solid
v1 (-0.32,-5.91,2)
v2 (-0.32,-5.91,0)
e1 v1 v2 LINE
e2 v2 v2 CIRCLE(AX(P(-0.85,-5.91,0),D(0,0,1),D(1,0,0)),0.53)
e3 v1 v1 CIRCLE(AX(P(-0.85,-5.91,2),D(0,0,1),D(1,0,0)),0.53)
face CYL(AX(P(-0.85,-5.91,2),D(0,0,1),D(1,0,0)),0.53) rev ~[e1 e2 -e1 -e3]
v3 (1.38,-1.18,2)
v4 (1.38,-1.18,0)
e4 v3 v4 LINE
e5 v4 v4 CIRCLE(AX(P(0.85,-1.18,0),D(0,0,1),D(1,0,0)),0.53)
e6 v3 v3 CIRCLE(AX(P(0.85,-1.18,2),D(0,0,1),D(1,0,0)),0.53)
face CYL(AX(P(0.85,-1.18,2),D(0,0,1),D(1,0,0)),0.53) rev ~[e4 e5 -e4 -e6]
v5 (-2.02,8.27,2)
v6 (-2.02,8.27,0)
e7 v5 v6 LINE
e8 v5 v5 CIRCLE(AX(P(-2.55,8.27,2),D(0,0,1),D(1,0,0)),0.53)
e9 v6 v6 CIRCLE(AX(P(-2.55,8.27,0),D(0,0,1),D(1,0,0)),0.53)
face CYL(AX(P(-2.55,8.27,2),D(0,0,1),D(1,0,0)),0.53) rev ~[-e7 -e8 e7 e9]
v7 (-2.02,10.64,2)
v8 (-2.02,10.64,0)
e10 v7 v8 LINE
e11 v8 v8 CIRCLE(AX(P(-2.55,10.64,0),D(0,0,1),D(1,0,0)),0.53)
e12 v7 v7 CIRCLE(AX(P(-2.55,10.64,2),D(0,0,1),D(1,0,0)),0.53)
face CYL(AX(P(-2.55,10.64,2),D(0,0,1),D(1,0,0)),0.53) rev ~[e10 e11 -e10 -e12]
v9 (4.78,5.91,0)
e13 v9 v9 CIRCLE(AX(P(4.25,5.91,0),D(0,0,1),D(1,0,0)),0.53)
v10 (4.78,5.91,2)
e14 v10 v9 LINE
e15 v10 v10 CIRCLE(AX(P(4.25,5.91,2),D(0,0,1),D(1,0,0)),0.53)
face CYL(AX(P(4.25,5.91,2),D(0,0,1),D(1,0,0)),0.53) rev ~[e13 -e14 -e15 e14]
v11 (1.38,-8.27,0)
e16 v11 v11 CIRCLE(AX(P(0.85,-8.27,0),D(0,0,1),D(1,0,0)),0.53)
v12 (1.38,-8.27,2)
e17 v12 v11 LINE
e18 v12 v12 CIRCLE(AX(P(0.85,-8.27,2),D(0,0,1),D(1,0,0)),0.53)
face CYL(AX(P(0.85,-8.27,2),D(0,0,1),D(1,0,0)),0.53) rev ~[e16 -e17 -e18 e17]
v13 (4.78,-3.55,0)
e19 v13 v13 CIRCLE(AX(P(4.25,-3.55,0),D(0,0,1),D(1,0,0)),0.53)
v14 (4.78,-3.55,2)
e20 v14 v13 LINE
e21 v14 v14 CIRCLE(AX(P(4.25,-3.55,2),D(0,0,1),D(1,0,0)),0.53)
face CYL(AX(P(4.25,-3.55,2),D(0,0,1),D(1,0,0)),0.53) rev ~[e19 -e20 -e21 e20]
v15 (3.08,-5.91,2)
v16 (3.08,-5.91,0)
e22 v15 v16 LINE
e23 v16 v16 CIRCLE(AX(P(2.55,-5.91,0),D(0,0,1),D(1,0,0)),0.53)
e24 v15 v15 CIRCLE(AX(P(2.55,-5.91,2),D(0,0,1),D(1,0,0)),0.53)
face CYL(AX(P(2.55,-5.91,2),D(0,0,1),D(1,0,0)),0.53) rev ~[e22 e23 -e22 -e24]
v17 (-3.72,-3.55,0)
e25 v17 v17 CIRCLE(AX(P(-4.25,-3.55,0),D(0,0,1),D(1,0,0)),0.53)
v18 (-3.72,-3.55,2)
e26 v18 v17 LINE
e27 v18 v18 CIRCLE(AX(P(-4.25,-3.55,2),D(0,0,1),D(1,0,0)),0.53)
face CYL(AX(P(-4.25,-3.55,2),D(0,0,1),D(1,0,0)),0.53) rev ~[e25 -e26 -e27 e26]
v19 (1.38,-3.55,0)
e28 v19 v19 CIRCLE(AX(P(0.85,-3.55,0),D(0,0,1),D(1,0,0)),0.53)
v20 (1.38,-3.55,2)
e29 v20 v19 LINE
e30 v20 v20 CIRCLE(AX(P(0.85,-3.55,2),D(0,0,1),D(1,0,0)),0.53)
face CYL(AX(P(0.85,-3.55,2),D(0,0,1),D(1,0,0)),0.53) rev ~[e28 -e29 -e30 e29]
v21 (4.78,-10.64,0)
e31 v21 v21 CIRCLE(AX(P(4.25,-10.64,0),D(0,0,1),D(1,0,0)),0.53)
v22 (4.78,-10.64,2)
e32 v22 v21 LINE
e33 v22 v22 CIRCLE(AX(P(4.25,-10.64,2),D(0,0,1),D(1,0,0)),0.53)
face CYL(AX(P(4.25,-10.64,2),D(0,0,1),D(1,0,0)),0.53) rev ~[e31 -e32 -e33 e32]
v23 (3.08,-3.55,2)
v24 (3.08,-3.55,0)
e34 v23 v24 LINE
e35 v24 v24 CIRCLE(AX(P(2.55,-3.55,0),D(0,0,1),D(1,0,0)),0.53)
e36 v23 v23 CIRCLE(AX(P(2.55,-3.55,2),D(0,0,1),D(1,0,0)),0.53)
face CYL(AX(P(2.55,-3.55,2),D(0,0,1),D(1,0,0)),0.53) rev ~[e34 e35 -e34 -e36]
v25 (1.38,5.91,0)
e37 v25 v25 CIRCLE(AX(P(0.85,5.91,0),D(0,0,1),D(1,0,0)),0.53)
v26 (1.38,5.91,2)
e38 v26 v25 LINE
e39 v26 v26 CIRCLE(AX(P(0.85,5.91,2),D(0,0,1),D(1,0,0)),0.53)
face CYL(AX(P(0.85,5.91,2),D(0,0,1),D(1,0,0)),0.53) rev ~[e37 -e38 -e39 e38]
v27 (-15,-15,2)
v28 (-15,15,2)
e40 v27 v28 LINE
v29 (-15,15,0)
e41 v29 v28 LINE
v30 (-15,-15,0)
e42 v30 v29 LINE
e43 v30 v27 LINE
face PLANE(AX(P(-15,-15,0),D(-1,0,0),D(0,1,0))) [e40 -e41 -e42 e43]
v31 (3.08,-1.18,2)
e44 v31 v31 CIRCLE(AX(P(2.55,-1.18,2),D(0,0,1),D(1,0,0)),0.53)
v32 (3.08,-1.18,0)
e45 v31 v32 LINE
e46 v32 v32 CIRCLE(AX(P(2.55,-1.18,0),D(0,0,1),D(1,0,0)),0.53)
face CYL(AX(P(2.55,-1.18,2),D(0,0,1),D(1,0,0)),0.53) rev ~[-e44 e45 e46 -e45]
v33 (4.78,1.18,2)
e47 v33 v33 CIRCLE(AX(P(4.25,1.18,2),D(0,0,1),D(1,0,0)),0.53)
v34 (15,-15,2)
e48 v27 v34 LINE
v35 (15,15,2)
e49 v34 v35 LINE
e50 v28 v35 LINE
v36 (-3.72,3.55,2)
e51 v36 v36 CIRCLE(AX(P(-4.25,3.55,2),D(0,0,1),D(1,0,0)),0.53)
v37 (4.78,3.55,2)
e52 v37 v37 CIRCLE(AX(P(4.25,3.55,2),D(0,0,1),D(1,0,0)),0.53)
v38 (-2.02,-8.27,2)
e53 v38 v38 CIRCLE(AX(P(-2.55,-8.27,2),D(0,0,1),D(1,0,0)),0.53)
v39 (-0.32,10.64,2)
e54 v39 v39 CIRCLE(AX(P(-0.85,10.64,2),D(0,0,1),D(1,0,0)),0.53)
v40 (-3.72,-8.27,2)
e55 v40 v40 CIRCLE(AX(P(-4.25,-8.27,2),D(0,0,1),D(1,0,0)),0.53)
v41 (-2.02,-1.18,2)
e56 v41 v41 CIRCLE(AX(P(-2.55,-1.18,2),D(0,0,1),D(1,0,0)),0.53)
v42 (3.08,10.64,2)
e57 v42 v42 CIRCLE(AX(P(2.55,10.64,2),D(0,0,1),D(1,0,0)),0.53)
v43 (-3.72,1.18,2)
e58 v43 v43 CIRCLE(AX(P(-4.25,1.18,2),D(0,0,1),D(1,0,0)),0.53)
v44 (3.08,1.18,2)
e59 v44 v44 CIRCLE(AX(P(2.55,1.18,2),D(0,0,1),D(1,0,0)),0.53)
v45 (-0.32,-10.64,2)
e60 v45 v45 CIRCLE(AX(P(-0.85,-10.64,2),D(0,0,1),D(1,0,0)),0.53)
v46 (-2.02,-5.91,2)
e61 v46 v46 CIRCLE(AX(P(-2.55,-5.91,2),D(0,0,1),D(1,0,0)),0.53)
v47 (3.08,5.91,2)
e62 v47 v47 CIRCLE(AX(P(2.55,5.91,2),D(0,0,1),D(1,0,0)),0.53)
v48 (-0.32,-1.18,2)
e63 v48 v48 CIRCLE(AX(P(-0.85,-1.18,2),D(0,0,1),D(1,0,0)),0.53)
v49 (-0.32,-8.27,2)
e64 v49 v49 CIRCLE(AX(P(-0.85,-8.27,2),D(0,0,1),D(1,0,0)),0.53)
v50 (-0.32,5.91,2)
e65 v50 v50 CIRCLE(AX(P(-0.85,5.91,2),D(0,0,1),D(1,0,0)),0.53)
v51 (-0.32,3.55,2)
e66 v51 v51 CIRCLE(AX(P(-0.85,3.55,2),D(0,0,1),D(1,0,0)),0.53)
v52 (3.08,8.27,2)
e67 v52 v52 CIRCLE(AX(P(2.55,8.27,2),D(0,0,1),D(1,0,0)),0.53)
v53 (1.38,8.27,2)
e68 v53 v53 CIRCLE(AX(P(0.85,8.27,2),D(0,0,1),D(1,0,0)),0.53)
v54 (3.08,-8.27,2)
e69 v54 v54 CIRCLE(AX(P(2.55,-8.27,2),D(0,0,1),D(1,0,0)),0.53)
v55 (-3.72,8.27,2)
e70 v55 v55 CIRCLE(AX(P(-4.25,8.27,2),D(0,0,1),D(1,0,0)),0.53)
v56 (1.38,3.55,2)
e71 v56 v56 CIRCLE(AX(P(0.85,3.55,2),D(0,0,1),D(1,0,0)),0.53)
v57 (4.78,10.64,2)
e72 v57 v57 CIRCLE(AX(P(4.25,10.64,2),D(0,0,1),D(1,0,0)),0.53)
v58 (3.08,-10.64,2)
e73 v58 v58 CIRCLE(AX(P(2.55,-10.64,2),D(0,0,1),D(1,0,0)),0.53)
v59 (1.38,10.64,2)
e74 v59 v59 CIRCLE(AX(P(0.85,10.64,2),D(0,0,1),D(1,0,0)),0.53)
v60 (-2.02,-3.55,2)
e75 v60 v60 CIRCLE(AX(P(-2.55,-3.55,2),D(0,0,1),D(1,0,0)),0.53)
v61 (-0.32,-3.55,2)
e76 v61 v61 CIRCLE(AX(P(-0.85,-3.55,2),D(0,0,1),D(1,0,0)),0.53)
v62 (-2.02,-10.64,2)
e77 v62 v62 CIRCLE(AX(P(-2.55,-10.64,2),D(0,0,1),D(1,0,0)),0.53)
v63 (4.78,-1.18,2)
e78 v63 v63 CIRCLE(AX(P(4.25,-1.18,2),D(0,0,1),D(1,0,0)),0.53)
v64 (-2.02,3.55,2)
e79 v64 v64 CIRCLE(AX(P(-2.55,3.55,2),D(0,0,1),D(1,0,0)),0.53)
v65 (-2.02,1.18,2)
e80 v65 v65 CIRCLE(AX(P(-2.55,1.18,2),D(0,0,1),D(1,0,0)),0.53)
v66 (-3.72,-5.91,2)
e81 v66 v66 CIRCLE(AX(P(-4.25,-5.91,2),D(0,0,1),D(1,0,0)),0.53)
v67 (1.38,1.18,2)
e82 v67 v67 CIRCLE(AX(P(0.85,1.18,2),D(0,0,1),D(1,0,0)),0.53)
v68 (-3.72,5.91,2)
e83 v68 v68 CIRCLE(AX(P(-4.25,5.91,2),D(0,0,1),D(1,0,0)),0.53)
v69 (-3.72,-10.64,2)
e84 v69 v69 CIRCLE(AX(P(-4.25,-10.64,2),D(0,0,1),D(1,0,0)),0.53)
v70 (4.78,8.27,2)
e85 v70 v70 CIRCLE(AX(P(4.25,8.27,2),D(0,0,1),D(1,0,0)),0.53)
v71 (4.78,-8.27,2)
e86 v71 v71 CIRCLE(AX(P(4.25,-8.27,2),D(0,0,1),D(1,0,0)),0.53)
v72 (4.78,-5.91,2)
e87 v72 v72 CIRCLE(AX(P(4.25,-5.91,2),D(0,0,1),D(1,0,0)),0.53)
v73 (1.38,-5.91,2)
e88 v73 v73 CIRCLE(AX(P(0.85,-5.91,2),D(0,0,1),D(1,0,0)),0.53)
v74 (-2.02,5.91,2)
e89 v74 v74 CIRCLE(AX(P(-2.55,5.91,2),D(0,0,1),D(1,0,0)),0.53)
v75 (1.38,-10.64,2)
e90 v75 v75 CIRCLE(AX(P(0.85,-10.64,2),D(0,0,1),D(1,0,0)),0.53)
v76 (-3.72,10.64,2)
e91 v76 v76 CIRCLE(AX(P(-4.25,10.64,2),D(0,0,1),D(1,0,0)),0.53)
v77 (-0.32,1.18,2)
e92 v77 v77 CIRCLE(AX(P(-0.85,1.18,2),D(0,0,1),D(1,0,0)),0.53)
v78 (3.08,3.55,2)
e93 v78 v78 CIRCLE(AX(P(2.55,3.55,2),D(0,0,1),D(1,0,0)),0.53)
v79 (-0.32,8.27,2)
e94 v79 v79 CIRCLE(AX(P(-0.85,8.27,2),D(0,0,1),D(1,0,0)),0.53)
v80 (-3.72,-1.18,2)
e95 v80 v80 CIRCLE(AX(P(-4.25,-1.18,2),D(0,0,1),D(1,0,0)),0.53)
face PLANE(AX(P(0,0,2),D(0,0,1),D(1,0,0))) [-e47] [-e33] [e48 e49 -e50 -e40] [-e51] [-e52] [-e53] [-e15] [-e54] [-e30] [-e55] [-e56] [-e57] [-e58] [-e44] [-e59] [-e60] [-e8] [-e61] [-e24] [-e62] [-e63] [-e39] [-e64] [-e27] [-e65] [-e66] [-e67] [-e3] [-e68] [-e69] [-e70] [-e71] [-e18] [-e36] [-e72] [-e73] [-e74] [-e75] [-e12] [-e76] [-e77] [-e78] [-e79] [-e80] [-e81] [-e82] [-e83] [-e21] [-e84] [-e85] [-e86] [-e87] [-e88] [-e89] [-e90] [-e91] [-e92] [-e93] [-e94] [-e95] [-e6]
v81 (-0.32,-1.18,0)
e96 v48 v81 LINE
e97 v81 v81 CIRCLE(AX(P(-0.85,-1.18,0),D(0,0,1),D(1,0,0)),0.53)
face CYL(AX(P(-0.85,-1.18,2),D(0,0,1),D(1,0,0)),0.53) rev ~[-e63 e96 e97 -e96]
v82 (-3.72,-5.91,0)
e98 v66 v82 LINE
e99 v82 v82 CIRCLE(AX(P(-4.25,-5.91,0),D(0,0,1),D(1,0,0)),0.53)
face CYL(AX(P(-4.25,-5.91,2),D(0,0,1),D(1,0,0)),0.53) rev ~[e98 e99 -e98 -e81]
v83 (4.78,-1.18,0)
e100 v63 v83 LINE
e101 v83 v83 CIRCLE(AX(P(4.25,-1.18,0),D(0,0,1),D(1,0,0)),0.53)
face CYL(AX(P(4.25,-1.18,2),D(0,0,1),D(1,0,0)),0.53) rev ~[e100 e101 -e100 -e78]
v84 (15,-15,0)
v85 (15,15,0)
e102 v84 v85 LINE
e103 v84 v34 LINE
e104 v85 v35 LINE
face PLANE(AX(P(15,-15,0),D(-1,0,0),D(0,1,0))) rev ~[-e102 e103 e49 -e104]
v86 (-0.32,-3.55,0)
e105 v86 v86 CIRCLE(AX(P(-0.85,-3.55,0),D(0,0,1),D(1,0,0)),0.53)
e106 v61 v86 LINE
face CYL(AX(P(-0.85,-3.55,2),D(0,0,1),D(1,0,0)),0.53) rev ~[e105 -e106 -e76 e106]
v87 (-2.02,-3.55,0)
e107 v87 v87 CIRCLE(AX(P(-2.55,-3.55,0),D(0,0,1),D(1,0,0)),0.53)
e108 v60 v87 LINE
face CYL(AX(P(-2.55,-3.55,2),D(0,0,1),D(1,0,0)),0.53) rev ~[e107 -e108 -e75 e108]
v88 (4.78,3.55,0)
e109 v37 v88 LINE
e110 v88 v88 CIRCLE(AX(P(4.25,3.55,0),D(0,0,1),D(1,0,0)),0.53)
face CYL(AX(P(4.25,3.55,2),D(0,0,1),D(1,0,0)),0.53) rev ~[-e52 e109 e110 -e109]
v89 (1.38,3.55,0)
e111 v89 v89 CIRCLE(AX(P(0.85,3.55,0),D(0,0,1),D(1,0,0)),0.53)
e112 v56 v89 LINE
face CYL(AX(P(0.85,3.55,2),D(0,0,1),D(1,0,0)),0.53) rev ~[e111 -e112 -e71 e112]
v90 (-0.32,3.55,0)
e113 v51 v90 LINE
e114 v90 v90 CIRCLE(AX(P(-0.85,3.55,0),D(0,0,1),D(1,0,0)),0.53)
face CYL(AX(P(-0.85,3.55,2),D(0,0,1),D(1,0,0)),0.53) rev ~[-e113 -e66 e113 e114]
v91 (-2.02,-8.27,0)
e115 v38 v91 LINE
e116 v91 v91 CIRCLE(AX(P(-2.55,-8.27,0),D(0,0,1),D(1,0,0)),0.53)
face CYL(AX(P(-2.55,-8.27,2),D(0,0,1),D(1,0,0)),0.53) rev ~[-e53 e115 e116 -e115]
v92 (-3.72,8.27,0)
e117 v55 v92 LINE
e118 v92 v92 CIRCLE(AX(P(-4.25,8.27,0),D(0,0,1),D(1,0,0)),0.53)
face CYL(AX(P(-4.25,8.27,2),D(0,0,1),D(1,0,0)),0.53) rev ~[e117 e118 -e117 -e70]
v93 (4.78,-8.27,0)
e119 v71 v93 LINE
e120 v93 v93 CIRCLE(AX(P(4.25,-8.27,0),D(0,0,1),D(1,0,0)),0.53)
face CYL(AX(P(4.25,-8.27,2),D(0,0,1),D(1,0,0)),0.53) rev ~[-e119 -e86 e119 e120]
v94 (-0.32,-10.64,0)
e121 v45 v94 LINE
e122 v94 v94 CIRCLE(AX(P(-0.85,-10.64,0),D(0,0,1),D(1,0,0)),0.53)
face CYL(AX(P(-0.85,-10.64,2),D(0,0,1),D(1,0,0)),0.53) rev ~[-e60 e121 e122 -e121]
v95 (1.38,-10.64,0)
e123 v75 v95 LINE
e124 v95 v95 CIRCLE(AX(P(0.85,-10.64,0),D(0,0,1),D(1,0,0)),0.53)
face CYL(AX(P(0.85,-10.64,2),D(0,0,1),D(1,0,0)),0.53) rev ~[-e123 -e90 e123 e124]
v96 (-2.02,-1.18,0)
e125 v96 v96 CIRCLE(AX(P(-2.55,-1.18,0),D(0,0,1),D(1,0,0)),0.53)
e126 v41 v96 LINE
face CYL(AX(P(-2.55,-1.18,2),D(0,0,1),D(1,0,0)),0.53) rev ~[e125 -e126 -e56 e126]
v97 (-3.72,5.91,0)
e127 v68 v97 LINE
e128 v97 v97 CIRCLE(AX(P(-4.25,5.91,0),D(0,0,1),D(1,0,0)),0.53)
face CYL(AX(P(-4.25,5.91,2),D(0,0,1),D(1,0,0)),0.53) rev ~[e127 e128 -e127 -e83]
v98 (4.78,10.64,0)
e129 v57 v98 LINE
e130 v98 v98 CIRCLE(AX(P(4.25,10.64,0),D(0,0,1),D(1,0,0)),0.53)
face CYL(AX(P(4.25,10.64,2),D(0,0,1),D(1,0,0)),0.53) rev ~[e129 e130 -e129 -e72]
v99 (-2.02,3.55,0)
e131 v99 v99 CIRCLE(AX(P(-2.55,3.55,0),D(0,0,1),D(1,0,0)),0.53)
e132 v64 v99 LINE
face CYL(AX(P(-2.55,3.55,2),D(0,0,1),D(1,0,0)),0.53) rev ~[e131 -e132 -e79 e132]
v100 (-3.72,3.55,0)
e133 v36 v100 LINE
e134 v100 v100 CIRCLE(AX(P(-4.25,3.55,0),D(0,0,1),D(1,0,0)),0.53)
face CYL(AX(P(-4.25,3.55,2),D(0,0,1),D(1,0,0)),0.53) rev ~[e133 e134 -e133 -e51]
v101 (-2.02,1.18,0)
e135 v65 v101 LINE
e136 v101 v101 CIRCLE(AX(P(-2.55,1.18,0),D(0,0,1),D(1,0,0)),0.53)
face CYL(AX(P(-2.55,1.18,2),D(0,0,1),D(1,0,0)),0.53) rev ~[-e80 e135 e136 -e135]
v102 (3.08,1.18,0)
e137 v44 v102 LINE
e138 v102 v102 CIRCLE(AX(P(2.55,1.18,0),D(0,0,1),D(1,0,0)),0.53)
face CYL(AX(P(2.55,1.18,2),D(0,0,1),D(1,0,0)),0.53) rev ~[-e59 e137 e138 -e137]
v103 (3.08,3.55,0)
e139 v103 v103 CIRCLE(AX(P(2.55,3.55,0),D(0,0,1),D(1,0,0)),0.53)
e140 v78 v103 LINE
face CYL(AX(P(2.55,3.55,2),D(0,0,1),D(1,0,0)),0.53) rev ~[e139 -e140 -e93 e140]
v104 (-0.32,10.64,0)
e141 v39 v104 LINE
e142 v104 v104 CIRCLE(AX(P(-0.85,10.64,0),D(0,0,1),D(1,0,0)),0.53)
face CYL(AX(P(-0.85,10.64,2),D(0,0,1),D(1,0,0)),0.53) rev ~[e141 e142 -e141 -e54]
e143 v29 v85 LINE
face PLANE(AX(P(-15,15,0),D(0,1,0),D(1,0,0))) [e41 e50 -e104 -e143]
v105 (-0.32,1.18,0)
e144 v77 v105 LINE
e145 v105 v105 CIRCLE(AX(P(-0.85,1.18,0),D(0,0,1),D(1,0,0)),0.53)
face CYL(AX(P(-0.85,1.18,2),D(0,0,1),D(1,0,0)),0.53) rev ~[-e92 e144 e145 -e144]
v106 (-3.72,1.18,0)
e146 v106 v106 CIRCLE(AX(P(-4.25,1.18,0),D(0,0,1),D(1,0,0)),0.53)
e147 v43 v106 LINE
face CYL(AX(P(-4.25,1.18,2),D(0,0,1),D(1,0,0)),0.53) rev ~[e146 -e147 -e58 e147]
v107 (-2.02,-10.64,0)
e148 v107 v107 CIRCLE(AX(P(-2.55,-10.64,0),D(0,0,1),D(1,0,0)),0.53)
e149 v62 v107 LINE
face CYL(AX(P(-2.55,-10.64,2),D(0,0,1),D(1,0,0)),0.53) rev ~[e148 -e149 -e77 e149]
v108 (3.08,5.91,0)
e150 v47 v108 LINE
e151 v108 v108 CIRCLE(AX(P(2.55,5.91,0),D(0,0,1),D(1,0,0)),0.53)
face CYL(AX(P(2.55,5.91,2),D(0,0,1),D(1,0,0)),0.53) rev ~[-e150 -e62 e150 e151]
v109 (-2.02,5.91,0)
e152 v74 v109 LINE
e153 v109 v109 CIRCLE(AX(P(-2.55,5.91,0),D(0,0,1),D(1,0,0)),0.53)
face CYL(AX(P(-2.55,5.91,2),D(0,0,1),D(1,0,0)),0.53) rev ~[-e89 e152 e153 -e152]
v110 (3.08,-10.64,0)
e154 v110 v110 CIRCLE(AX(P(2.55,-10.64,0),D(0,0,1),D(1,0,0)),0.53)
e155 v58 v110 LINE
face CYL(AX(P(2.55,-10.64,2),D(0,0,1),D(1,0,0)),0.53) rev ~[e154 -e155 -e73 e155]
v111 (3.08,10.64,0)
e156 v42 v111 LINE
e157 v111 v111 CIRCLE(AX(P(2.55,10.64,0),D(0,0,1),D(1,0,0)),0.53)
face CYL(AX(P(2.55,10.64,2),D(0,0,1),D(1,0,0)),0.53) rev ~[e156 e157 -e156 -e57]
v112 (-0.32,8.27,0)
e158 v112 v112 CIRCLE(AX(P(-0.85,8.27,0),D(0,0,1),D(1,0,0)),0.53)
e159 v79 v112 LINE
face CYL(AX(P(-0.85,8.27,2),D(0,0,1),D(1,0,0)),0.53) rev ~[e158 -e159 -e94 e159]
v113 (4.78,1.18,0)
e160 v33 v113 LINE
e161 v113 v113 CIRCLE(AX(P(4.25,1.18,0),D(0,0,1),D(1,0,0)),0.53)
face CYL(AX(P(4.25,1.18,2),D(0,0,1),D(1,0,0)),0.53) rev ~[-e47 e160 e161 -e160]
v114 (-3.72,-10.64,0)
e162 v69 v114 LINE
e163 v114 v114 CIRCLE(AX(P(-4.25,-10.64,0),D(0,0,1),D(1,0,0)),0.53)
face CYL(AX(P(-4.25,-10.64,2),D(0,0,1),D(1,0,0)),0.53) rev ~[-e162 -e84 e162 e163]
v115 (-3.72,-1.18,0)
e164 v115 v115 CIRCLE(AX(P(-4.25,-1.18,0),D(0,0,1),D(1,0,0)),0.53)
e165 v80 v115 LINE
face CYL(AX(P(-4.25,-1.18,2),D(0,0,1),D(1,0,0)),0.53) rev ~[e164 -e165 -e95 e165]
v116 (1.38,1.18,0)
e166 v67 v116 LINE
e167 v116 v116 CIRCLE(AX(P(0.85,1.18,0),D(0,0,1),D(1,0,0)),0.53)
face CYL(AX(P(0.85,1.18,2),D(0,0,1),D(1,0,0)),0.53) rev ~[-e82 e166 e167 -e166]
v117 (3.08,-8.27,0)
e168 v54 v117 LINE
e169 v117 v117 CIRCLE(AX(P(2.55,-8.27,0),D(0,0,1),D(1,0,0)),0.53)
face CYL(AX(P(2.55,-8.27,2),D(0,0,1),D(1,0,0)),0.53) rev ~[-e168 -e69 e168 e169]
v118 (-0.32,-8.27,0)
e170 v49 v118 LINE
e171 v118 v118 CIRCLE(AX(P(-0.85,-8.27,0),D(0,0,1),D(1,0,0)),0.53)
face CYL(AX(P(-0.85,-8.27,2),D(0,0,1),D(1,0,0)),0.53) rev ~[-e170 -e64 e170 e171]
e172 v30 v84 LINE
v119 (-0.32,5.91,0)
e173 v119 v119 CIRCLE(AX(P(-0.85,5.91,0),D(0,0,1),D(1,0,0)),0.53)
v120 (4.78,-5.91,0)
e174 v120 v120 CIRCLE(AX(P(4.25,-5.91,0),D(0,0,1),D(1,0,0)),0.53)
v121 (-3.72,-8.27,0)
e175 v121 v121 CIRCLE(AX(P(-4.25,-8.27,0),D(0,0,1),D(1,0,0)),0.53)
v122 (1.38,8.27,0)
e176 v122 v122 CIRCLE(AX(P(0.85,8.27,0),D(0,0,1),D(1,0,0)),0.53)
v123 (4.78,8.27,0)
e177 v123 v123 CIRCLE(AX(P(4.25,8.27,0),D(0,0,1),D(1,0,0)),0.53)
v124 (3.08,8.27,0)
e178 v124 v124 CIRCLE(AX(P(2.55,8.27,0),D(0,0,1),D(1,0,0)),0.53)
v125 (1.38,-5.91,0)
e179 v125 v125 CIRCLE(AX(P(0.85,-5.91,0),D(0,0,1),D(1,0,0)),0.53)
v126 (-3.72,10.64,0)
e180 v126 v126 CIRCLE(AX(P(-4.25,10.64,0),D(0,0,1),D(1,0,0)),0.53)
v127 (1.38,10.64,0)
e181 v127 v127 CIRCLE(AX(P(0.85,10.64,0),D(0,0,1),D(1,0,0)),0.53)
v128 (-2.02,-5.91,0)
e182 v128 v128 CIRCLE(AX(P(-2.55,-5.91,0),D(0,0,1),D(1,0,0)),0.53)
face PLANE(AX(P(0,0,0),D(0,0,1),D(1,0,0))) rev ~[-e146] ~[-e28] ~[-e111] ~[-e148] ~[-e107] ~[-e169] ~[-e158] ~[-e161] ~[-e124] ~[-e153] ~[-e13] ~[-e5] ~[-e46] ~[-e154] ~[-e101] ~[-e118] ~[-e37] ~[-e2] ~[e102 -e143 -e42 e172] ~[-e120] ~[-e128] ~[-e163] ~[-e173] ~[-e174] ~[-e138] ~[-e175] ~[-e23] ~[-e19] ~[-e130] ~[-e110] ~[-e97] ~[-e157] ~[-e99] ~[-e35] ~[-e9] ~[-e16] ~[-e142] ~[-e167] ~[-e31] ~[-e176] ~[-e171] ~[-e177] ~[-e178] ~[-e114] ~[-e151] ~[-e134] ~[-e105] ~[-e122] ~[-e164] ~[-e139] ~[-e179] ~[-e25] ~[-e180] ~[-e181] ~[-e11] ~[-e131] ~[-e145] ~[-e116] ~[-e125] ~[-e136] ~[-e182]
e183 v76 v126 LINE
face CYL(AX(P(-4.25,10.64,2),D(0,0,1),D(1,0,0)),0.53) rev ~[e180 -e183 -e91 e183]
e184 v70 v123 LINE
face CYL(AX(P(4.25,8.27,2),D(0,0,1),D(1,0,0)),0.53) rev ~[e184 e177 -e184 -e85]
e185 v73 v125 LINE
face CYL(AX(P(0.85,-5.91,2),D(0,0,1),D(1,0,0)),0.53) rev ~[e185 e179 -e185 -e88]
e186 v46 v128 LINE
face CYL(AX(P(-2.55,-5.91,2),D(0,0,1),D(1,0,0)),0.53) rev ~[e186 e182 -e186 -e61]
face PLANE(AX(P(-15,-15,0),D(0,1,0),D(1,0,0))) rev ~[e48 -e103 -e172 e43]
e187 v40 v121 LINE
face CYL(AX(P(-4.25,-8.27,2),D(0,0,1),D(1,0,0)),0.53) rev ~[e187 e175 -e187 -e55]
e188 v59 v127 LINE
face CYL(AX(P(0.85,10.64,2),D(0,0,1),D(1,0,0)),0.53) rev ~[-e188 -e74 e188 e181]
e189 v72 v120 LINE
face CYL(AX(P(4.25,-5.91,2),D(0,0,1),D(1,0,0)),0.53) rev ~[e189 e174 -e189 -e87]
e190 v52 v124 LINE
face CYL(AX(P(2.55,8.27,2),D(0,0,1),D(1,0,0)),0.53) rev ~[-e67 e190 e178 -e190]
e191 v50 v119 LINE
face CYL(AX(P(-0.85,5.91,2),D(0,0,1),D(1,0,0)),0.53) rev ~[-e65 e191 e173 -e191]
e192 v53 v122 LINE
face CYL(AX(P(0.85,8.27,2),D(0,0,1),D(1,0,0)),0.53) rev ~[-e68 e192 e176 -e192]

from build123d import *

# Parameters (mm, degrees)
ESQUISSE1_W            = 30
ESQUISSE1_H            = 30
BASE_PLATE_DEPTH       = 2
SKETCH_PERFORATIONS_R  = 0.53
CUT_PERFORATIONS_DEPTH = 10


with BuildPart() as part:
    # Esquisse1 → Base_Plate (new body)
    with BuildSketch(Plane.XY):
        Rectangle(ESQUISSE1_W, ESQUISSE1_H)
    extrude(amount=BASE_PLATE_DEPTH)

    # Sketch_Perforations → Cut_Perforations (cut)
    with BuildSketch(Plane.XY.offset(2)):
        with Locations((-4.25, -10.64)):
            Circle(SKETCH_PERFORATIONS_R)
        with Locations((-4.25, -8.27)):
            Circle(SKETCH_PERFORATIONS_R)
        with Locations((-4.25, -5.91)):
            Circle(SKETCH_PERFORATIONS_R)
        with Locations((-4.25, -3.55)):
            Circle(SKETCH_PERFORATIONS_R)
        with Locations((-4.25, -1.18)):
            Circle(SKETCH_PERFORATIONS_R)
        with Locations((-4.25, 1.18)):
            Circle(SKETCH_PERFORATIONS_R)
        with Locations((-4.25, 3.55)):
            Circle(SKETCH_PERFORATIONS_R)
        with Locations((-4.25, 5.91)):
            Circle(SKETCH_PERFORATIONS_R)
        with Locations((-4.25, 8.27)):
            Circle(SKETCH_PERFORATIONS_R)
        with Locations((-4.25, 10.64)):
            Circle(SKETCH_PERFORATIONS_R)
        with Locations((-2.55, -10.64)):
            Circle(SKETCH_PERFORATIONS_R)
        with Locations((-2.55, -8.27)):
            Circle(SKETCH_PERFORATIONS_R)
        with Locations((-2.55, -5.91)):
            Circle(SKETCH_PERFORATIONS_R)
        with Locations((-2.55, -3.55)):
            Circle(SKETCH_PERFORATIONS_R)
        with Locations((-2.55, -1.18)):
            Circle(SKETCH_PERFORATIONS_R)
        with Locations((-2.55, 1.18)):
            Circle(SKETCH_PERFORATIONS_R)
        with Locations((-2.55, 3.55)):
            Circle(SKETCH_PERFORATIONS_R)
        with Locations((-2.55, 5.91)):
            Circle(SKETCH_PERFORATIONS_R)
        with Locations((-2.55, 8.27)):
            Circle(SKETCH_PERFORATIONS_R)
        with Locations((-2.55, 10.64)):
            Circle(SKETCH_PERFORATIONS_R)
        with Locations((-0.85, -10.64)):
            Circle(SKETCH_PERFORATIONS_R)
        with Locations((-0.85, -8.27)):
            Circle(SKETCH_PERFORATIONS_R)
        with Locations((-0.85, -5.91)):
            Circle(SKETCH_PERFORATIONS_R)
        with Locations((-0.85, -3.55)):
            Circle(SKETCH_PERFORATIONS_R)
        with Locations((-0.85, -1.18)):
            Circle(SKETCH_PERFORATIONS_R)
        with Locations((-0.85, 1.18)):
            Circle(SKETCH_PERFORATIONS_R)
        with Locations((-0.85, 3.55)):
            Circle(SKETCH_PERFORATIONS_R)
        with Locations((-0.85, 5.91)):
            Circle(SKETCH_PERFORATIONS_R)
        with Locations((-0.85, 8.27)):
            Circle(SKETCH_PERFORATIONS_R)
        with Locations((-0.85, 10.64)):
            Circle(SKETCH_PERFORATIONS_R)
        with Locations((0.85, -10.64)):
            Circle(SKETCH_PERFORATIONS_R)
        with Locations((0.85, -8.27)):
            Circle(SKETCH_PERFORATIONS_R)
        with Locations((0.85, -5.91)):
            Circle(SKETCH_PERFORATIONS_R)
        with Locations((0.85, -3.55)):
            Circle(SKETCH_PERFORATIONS_R)
        with Locations((0.85, -1.18)):
            Circle(SKETCH_PERFORATIONS_R)
        with Locations((0.85, 1.18)):
            Circle(SKETCH_PERFORATIONS_R)
        with Locations((0.85, 3.55)):
            Circle(SKETCH_PERFORATIONS_R)
        with Locations((0.85, 5.91)):
            Circle(SKETCH_PERFORATIONS_R)
        with Locations((0.85, 8.27)):
            Circle(SKETCH_PERFORATIONS_R)
        with Locations((0.85, 10.64)):
            Circle(SKETCH_PERFORATIONS_R)
        with Locations((2.55, -10.64)):
            Circle(SKETCH_PERFORATIONS_R)
        with Locations((2.55, -8.27)):
            Circle(SKETCH_PERFORATIONS_R)
        with Locations((2.55, -5.91)):
            Circle(SKETCH_PERFORATIONS_R)
        with Locations((2.55, -3.55)):
            Circle(SKETCH_PERFORATIONS_R)
        with Locations((2.55, -1.18)):
            Circle(SKETCH_PERFORATIONS_R)
        with Locations((2.55, 1.18)):
            Circle(SKETCH_PERFORATIONS_R)
        with Locations((2.55, 3.55)):
            Circle(SKETCH_PERFORATIONS_R)
        with Locations((2.55, 5.91)):
            Circle(SKETCH_PERFORATIONS_R)
        with Locations((2.55, 8.27)):
            Circle(SKETCH_PERFORATIONS_R)
        with Locations((2.55, 10.64)):
            Circle(SKETCH_PERFORATIONS_R)
        with Locations((4.25, -10.64)):
            Circle(SKETCH_PERFORATIONS_R)
        with Locations((4.25, -8.27)):
            Circle(SKETCH_PERFORATIONS_R)
        with Locations((4.25, -5.91)):
            Circle(SKETCH_PERFORATIONS_R)
        with Locations((4.25, -3.55)):
            Circle(SKETCH_PERFORATIONS_R)
        with Locations((4.25, -1.18)):
            Circle(SKETCH_PERFORATIONS_R)
        with Locations((4.25, 1.18)):
            Circle(SKETCH_PERFORATIONS_R)
        with Locations((4.25, 3.55)):
            Circle(SKETCH_PERFORATIONS_R)
        with Locations((4.25, 5.91)):
            Circle(SKETCH_PERFORATIONS_R)
        with Locations((4.25, 8.27)):
            Circle(SKETCH_PERFORATIONS_R)
        with Locations((4.25, 10.64)):
            Circle(SKETCH_PERFORATIONS_R)
    extrude(amount=-CUT_PERFORATIONS_DEPTH, mode=Mode.SUBTRACT)


solid = part.part
